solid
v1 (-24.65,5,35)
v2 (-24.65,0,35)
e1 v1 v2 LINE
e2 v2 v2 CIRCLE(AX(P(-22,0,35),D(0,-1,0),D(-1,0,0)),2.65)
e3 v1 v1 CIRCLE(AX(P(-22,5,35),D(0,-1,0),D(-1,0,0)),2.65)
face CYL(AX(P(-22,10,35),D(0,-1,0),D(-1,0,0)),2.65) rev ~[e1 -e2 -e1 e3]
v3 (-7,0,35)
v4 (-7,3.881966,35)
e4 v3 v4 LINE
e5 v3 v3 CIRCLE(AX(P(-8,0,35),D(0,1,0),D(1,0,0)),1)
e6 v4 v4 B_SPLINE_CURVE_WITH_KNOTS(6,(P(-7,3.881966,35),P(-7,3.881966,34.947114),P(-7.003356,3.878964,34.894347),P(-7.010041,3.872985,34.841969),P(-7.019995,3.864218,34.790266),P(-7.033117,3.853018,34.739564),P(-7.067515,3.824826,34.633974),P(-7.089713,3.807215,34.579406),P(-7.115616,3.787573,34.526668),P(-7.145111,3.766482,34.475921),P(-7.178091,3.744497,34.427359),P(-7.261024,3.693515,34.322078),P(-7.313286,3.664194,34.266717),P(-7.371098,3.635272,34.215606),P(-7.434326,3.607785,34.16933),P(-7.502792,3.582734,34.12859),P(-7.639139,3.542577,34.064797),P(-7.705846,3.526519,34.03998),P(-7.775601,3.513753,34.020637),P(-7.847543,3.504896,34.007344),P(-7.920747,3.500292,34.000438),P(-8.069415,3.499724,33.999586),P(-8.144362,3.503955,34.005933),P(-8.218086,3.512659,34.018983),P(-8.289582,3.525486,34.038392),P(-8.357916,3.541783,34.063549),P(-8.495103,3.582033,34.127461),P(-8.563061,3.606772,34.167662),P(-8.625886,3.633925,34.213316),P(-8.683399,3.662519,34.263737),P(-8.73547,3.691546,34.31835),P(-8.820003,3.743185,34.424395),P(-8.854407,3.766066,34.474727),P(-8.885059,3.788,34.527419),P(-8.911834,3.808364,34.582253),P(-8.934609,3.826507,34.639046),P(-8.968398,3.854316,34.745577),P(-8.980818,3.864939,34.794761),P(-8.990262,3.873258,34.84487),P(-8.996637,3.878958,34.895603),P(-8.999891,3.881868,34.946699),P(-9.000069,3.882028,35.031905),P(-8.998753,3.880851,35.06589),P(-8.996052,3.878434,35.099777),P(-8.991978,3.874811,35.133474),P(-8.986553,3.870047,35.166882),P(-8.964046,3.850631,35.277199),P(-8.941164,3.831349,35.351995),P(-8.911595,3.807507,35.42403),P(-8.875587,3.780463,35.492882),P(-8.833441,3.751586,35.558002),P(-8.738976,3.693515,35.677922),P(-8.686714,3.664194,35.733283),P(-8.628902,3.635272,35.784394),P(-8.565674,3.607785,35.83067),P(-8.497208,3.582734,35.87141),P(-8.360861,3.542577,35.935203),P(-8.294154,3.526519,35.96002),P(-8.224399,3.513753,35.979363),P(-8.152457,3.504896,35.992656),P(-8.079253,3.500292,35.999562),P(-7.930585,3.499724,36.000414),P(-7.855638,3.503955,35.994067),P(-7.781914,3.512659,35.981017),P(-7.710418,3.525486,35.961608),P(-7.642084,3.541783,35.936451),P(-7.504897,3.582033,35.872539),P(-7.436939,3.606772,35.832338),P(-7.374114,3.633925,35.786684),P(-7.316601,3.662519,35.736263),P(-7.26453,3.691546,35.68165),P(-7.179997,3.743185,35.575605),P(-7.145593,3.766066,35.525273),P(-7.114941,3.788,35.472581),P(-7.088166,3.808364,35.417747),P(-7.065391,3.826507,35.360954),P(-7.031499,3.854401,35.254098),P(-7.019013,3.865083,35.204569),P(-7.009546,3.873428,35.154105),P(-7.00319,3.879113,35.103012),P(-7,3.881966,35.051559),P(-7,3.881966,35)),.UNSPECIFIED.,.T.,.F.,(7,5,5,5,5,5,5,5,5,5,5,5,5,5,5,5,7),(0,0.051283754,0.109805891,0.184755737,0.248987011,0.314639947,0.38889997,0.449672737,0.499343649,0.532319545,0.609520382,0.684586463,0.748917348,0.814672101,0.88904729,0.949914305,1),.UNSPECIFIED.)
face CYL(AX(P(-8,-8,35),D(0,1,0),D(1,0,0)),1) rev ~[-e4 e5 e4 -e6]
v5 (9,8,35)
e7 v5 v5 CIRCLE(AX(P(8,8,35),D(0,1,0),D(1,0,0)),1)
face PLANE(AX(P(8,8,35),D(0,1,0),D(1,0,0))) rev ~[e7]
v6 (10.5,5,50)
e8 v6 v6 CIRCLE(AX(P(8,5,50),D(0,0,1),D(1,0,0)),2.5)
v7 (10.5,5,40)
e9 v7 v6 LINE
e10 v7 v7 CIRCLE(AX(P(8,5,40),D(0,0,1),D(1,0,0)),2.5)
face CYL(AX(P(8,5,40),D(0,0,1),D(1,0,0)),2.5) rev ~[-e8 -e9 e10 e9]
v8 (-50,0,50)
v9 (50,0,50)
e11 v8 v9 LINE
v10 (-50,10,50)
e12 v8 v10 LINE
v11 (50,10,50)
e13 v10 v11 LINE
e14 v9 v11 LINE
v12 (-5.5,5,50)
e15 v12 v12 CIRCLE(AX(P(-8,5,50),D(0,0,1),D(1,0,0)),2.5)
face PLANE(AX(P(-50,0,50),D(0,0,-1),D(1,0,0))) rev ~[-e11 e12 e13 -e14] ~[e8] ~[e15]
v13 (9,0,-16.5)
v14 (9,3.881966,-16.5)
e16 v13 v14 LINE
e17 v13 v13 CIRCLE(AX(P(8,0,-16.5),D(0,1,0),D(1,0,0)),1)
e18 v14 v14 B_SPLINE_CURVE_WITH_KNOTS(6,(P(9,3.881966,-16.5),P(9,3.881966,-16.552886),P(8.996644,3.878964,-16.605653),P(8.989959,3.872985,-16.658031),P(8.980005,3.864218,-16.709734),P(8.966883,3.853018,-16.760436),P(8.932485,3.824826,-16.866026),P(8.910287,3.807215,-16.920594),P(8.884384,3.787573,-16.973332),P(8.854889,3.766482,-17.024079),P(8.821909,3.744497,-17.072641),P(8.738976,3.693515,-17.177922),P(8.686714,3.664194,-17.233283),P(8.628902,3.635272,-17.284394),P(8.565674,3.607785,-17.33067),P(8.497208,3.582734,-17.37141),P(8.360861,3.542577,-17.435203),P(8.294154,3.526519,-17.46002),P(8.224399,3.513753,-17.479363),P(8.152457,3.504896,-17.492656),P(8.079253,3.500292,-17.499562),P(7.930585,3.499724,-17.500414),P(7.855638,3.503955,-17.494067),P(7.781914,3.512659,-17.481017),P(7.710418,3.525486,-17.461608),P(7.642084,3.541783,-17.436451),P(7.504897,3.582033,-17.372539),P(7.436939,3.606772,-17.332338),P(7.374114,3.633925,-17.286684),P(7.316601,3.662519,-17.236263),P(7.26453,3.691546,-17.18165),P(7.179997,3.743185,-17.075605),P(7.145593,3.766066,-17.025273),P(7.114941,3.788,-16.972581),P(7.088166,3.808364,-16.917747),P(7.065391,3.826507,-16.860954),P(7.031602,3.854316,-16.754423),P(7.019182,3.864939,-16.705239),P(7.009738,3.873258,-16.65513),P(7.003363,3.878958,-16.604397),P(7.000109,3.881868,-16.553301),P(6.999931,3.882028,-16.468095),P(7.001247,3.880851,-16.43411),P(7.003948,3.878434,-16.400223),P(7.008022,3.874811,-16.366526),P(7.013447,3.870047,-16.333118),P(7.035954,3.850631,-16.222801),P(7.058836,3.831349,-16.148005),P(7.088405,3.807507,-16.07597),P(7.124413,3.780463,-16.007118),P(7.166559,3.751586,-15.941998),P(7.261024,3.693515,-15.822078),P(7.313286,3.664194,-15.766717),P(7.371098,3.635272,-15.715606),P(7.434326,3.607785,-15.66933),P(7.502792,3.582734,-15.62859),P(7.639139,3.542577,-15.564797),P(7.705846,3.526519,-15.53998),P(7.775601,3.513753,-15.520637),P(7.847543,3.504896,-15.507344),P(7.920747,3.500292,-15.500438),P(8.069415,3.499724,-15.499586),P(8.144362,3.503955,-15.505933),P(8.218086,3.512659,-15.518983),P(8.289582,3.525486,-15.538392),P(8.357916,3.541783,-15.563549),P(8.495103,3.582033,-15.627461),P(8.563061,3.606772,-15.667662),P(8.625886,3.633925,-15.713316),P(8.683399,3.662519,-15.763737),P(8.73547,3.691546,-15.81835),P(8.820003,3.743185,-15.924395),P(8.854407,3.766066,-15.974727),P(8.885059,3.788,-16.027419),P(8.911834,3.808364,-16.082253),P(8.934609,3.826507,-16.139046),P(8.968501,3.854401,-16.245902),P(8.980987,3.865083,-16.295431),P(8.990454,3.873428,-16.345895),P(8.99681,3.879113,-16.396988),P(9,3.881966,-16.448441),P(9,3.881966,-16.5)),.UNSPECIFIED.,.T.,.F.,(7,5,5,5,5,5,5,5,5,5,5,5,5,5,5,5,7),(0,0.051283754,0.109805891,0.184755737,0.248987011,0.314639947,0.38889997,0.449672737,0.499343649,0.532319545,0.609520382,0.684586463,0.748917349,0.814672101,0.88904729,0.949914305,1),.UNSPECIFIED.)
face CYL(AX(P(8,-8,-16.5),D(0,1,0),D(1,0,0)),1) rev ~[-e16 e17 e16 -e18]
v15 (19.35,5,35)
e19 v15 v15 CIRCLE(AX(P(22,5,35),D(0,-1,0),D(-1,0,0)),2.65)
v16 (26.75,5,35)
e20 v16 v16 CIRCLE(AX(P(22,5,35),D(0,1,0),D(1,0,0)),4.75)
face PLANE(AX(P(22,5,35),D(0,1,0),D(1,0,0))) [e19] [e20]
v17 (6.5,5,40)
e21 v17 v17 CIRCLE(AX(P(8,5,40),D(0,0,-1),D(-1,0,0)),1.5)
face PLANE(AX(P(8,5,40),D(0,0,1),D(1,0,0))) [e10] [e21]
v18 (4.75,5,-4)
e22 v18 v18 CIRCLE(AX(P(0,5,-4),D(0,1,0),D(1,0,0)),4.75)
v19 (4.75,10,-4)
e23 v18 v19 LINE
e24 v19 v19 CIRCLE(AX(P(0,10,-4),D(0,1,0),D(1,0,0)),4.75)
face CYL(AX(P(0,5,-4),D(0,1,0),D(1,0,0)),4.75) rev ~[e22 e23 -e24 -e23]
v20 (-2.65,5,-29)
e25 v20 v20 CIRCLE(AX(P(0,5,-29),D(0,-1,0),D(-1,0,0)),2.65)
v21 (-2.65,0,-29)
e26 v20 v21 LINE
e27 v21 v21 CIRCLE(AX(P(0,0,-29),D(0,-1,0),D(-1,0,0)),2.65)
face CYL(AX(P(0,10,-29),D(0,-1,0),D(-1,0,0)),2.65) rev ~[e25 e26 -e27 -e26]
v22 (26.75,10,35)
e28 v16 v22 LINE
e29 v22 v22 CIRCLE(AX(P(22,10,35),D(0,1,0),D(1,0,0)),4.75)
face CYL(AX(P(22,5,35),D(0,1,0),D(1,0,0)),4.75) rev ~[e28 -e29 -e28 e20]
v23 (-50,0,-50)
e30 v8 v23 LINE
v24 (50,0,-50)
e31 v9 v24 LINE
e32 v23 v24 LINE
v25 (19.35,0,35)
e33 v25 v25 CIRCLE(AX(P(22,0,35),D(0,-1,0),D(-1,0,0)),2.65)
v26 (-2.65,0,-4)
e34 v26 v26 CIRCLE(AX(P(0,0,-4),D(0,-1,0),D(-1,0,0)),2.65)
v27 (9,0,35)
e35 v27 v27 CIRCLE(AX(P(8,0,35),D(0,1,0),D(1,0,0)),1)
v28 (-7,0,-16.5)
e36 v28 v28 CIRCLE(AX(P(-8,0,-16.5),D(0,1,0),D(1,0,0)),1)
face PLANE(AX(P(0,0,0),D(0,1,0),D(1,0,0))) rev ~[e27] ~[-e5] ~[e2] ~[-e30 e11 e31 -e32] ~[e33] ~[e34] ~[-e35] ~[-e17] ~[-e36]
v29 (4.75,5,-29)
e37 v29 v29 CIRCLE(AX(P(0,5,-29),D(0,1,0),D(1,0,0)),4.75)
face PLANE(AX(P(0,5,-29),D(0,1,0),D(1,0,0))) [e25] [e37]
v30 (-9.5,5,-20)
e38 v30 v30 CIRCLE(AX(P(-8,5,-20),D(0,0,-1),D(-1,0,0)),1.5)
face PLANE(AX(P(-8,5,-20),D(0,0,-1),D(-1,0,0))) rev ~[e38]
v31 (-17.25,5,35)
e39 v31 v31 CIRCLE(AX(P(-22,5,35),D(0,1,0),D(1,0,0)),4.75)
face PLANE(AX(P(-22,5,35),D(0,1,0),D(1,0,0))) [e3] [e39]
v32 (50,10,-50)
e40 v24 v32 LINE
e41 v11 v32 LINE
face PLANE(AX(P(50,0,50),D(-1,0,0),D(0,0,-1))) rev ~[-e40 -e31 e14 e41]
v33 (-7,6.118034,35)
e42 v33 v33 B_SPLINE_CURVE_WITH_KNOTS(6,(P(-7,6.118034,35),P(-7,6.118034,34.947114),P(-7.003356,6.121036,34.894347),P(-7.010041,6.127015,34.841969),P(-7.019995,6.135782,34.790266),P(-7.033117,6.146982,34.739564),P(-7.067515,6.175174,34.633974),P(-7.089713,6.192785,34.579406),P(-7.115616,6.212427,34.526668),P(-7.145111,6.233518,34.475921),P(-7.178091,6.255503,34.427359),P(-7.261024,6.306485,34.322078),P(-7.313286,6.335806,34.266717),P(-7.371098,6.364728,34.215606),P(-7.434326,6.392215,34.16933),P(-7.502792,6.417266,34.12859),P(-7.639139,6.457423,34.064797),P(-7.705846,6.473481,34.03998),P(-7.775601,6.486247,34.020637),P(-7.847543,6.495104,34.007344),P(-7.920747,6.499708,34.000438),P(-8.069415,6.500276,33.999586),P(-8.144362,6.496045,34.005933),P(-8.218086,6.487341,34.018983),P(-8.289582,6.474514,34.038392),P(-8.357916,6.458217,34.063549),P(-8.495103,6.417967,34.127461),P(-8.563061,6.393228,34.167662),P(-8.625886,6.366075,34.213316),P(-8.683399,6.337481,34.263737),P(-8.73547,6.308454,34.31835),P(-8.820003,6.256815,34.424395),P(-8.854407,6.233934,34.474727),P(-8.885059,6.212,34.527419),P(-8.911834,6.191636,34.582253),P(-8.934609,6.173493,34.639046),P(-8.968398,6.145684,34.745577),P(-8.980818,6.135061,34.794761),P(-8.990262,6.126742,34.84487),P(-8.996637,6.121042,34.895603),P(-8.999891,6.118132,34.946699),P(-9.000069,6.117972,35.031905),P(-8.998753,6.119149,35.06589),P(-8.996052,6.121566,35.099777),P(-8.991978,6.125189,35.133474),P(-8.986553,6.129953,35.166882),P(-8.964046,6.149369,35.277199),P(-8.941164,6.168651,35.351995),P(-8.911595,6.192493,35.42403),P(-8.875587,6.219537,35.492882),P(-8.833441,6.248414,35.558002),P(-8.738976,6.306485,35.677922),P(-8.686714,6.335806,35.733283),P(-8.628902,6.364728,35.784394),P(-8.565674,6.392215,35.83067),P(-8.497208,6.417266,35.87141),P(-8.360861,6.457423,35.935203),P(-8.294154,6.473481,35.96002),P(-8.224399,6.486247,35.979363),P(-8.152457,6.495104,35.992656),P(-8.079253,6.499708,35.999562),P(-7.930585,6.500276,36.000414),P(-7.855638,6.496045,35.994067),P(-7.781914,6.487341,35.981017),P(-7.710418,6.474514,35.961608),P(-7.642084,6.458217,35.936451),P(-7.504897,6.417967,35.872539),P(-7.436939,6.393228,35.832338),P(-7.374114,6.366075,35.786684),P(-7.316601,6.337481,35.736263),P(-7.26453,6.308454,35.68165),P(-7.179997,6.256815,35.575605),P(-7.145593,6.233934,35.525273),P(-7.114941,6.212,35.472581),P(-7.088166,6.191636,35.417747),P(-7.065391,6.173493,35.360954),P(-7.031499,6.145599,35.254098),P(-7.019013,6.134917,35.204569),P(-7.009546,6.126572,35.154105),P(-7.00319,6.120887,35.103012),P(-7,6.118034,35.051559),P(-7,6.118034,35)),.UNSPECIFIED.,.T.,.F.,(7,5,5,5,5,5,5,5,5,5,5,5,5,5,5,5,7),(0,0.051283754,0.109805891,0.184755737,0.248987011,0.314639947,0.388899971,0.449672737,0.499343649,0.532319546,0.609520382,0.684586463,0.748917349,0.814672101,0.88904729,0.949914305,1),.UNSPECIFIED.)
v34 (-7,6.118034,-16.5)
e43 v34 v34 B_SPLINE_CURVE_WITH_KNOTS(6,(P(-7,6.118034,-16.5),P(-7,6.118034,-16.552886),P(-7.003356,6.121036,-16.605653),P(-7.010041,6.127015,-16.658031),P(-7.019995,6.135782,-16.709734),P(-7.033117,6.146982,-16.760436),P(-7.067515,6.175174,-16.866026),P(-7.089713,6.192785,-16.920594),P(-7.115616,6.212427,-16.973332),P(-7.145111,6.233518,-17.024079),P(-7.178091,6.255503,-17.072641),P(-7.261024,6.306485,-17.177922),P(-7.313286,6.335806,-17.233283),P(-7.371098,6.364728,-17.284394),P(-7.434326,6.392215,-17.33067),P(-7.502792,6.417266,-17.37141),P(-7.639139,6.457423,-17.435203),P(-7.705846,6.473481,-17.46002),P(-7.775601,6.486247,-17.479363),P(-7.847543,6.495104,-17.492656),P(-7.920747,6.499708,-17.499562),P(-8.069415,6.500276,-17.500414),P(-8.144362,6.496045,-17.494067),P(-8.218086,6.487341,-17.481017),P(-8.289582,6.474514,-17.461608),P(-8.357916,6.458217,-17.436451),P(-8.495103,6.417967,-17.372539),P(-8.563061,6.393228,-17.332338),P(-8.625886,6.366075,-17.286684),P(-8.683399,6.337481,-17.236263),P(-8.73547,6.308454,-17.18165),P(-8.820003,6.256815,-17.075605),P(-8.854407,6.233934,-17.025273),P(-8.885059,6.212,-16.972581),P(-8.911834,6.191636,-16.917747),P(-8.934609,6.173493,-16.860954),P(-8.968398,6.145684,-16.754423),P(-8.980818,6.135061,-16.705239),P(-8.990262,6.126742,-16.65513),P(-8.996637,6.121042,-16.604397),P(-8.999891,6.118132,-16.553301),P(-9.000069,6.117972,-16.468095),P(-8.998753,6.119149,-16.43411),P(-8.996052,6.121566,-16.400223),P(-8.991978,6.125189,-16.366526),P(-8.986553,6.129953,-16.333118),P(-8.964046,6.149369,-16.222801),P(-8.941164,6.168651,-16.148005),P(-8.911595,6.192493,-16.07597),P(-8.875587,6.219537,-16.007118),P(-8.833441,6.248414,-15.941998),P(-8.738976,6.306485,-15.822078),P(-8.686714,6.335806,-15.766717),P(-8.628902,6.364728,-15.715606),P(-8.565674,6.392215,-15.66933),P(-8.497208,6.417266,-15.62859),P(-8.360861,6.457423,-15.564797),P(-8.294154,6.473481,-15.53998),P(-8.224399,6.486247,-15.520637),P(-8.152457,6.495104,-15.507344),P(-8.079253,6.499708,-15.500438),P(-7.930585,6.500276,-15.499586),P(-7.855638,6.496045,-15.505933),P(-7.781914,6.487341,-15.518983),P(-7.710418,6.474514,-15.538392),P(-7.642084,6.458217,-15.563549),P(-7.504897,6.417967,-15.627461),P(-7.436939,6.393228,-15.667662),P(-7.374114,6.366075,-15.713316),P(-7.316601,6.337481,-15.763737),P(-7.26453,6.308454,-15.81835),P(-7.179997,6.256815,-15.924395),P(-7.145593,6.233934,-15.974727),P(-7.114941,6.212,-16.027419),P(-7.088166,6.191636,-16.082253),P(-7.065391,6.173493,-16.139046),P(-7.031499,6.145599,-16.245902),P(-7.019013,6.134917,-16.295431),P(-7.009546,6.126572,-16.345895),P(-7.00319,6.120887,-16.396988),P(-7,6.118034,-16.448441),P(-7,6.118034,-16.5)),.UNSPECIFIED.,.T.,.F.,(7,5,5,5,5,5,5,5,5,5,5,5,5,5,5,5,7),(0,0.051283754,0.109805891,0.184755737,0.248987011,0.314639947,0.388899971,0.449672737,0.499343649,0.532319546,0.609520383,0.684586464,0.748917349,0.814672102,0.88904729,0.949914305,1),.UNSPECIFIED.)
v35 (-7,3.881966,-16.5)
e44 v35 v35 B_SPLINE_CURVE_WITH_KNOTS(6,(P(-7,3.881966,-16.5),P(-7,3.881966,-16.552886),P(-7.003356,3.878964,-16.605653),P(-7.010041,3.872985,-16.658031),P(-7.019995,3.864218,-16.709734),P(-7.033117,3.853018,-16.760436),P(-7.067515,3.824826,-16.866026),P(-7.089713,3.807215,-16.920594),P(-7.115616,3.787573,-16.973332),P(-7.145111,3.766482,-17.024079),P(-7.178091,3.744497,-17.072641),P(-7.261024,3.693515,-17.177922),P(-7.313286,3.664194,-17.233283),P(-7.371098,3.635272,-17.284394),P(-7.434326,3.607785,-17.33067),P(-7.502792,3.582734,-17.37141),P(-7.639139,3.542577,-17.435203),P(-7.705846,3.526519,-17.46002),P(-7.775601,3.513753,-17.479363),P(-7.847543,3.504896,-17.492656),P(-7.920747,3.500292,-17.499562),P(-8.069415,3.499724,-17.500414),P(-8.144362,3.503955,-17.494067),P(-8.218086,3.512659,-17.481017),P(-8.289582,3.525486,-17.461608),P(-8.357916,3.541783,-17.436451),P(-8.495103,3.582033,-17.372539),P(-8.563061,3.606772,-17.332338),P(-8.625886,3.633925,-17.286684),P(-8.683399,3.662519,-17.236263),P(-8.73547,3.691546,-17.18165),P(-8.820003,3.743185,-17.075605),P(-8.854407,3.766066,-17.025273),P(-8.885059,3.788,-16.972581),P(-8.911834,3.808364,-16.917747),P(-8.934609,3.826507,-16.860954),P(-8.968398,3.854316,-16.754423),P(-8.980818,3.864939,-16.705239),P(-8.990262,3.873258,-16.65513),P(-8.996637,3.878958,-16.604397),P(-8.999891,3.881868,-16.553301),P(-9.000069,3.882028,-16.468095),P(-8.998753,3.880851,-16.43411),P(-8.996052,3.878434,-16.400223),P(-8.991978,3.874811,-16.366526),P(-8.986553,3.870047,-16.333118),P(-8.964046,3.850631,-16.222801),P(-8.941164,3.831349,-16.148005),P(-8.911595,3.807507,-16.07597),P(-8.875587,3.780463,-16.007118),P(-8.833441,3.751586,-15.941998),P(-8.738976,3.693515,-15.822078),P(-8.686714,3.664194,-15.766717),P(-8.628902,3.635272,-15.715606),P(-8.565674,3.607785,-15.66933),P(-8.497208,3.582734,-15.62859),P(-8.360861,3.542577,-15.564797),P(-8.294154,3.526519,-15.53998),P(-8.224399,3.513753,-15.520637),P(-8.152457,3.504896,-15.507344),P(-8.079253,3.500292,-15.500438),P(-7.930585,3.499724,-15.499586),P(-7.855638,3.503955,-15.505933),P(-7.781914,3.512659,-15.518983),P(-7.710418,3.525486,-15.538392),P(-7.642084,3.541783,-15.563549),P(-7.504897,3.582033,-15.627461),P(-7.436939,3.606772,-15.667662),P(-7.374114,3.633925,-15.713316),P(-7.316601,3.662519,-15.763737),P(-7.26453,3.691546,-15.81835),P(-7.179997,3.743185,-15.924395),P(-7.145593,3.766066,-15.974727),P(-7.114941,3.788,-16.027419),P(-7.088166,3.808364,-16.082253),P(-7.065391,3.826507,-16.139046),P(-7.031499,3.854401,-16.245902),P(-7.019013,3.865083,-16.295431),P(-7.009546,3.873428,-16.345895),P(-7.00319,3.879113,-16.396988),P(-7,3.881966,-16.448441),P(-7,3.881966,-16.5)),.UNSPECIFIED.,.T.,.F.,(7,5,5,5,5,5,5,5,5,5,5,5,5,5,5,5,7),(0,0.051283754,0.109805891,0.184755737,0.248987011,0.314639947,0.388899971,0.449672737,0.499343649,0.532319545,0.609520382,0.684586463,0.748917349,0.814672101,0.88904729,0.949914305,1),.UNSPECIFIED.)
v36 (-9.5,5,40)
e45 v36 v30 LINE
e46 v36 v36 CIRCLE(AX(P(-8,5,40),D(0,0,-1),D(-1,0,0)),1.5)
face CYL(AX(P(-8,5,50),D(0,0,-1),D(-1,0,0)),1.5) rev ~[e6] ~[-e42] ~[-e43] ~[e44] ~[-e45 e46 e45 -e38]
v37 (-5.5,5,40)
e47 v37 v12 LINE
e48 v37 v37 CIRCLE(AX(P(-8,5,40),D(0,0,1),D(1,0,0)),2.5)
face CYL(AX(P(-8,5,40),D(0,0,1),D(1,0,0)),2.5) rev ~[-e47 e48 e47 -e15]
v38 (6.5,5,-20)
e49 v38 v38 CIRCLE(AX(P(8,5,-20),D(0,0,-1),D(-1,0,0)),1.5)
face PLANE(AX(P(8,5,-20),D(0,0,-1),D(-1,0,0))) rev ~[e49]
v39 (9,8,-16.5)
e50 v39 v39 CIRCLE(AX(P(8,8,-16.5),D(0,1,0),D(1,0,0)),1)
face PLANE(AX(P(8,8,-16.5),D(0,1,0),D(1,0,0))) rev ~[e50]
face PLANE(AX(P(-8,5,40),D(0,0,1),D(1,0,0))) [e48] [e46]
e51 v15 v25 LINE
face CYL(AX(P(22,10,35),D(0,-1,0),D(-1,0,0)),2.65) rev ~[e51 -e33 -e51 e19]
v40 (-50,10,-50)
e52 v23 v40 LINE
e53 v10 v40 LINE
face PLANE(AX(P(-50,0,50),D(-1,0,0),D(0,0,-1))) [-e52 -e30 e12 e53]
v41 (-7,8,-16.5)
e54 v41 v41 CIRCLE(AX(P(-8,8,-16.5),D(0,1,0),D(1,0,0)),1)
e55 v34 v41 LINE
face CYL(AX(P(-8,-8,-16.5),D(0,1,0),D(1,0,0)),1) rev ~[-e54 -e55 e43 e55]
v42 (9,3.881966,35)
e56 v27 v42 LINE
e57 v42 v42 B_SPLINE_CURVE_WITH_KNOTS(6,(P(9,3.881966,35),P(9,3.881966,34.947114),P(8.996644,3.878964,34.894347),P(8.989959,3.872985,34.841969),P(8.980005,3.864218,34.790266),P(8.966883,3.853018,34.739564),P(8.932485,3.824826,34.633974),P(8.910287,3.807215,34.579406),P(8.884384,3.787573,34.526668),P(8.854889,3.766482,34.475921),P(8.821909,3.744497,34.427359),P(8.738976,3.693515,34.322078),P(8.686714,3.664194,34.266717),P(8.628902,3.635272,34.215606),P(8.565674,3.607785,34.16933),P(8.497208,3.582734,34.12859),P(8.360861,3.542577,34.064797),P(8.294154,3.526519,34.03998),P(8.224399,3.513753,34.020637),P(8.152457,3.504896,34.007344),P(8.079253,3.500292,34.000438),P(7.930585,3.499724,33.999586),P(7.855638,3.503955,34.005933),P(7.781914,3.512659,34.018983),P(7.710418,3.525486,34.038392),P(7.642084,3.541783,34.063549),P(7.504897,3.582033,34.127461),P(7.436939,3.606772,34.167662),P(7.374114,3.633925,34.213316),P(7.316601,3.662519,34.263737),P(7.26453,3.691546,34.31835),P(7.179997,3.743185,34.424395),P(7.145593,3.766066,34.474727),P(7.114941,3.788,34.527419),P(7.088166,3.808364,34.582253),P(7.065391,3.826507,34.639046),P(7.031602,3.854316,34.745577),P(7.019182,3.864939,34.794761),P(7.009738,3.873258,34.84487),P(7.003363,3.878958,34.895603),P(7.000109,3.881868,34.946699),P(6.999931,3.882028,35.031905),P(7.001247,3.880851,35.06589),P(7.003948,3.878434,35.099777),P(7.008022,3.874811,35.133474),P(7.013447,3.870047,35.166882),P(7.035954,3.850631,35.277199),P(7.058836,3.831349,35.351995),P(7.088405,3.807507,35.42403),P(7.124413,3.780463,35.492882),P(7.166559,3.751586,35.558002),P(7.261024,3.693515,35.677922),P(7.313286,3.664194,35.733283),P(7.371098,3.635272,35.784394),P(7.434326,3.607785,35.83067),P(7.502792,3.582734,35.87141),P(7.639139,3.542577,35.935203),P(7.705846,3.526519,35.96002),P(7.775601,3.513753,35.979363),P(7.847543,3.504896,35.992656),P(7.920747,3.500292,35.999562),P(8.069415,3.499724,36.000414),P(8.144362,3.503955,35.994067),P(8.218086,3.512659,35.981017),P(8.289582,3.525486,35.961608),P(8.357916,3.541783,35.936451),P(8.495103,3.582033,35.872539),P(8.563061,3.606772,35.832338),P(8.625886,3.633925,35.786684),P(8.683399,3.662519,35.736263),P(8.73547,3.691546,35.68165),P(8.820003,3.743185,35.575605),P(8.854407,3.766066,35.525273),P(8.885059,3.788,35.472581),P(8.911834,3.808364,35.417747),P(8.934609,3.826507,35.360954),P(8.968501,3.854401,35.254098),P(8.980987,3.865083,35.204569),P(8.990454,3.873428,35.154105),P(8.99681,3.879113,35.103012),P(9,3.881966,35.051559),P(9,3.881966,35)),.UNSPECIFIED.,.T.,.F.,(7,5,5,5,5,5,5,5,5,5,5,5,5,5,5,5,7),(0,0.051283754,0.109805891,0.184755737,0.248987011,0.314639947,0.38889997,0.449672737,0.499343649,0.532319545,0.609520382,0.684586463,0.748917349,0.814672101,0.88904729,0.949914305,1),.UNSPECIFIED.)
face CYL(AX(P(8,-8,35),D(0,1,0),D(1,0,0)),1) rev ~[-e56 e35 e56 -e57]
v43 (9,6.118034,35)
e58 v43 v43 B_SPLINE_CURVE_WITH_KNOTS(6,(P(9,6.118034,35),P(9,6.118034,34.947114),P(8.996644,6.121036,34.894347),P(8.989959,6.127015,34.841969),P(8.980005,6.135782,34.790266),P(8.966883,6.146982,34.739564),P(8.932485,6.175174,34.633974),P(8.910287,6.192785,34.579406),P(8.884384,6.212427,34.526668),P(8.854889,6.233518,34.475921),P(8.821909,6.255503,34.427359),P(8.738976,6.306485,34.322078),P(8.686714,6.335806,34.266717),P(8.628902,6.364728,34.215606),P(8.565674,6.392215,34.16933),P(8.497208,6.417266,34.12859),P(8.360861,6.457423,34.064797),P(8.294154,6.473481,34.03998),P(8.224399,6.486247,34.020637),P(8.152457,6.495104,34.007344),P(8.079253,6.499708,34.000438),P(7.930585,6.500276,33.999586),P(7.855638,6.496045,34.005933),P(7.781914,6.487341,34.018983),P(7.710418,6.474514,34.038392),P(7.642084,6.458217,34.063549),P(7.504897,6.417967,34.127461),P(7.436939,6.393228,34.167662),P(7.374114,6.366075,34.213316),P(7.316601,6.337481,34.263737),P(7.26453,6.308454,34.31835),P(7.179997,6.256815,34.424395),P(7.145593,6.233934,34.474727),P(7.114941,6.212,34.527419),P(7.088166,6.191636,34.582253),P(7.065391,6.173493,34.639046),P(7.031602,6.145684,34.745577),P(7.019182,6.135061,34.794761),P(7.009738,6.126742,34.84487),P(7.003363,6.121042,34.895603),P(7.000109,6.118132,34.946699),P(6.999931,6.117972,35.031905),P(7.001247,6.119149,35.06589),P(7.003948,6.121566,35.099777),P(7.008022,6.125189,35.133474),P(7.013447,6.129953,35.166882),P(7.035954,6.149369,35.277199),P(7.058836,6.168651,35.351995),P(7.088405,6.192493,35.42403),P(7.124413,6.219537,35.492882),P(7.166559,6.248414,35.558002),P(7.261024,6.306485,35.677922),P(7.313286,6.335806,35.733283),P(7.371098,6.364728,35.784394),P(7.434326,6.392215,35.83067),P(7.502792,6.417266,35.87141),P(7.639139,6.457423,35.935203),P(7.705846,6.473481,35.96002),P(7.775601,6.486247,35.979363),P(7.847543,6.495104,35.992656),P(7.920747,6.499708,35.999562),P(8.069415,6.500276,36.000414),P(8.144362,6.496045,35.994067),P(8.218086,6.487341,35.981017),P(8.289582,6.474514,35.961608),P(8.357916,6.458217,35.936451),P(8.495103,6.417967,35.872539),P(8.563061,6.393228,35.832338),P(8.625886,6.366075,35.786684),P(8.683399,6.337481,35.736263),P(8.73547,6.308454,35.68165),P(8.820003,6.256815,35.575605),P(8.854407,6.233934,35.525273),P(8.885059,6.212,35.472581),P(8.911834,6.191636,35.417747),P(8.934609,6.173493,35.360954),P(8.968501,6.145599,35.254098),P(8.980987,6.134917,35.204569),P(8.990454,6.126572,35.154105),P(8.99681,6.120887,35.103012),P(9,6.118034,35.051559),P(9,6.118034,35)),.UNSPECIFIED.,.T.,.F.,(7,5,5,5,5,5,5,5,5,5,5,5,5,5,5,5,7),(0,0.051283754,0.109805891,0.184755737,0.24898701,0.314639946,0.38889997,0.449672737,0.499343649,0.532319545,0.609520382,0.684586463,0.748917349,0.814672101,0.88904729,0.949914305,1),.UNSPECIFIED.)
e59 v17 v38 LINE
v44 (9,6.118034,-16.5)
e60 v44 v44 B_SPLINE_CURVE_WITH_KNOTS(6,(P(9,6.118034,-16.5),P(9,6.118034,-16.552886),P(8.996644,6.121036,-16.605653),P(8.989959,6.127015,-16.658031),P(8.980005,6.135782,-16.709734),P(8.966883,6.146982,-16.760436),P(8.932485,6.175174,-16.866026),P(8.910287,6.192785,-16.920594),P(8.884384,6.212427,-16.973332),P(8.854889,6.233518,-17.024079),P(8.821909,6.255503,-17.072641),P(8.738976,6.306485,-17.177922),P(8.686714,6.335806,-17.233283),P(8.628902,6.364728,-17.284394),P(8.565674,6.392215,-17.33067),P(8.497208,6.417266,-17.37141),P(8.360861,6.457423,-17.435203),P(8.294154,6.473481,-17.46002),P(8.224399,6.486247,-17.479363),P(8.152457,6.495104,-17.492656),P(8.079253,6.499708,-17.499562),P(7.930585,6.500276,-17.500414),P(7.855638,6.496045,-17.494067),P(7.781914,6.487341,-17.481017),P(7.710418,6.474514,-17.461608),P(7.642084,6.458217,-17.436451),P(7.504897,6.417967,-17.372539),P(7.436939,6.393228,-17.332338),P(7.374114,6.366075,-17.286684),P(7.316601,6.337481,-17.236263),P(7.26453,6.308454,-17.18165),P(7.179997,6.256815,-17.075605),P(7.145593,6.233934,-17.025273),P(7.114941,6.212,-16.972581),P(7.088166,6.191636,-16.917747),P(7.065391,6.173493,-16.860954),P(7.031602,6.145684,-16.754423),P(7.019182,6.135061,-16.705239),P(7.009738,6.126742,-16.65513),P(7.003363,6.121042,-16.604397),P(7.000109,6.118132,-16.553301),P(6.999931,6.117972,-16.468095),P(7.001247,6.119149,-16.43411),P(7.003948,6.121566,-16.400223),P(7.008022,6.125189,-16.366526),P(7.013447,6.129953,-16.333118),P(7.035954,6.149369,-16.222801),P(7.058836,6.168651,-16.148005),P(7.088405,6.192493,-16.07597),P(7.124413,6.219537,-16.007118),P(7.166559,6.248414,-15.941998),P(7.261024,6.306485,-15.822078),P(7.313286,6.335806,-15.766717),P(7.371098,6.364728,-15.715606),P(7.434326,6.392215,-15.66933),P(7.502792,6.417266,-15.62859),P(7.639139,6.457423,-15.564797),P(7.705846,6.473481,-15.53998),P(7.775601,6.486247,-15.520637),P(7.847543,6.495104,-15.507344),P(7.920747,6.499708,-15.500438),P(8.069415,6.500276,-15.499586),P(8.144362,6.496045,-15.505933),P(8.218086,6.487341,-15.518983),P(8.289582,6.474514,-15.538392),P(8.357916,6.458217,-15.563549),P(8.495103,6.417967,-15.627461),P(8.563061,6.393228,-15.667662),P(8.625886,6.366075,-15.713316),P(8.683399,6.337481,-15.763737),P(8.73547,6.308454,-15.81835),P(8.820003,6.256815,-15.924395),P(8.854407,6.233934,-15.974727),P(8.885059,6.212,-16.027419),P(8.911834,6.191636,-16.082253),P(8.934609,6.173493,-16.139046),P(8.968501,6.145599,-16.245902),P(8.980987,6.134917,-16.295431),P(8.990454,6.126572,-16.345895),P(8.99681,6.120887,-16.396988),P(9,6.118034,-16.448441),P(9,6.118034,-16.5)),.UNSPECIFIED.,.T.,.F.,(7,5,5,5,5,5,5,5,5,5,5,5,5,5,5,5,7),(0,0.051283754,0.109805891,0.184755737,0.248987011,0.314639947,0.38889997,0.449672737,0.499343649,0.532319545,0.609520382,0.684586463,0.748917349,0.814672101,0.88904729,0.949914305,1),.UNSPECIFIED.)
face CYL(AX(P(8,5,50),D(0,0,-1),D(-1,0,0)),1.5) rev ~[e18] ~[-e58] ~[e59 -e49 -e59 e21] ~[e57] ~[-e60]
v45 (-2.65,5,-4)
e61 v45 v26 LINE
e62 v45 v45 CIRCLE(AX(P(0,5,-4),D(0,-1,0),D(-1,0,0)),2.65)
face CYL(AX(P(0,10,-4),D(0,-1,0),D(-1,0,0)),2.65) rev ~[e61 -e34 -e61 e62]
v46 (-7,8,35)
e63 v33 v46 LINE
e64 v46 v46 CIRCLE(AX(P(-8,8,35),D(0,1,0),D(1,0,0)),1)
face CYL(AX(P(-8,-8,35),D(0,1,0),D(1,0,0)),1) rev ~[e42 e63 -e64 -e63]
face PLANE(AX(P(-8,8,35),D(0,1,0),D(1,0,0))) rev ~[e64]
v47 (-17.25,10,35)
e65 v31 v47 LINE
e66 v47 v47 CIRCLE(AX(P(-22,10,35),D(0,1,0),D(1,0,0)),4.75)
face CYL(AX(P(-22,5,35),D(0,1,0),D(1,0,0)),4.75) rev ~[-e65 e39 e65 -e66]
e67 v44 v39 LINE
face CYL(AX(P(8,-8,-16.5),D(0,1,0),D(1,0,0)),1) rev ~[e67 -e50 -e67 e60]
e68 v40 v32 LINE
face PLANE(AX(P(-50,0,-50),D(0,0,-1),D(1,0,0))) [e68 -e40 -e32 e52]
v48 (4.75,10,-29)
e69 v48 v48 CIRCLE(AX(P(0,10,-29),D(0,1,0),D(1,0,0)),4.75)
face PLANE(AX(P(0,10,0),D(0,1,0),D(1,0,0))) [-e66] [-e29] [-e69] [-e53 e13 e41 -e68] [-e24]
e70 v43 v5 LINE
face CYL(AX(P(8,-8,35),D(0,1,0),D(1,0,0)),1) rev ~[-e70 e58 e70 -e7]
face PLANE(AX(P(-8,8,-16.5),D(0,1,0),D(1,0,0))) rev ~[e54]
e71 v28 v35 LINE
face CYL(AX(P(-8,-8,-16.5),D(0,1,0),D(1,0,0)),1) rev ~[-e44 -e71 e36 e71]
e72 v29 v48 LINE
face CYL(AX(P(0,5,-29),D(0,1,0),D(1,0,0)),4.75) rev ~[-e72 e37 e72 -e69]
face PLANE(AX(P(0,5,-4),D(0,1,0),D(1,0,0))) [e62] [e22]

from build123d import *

# Parameters (mm, degrees)
SKETCH_1_W                   = 100
SKETCH_1_H                   = 100
EXTRUDE_1_DEPTH              = 10
HOLE_WIZARD_M2_1_D           = 3
HOLE_WIZARD_M2_1_DEPTH       = 70
HOLE_WIZARD_M2_1_CBORE_D     = 5
HOLE_WIZARD_M2_1_CBORE_DEPTH = 10
HOLE_WIZARD_M5_1_D           = 5.3
HOLE_WIZARD_M5_1_CBORE_D     = 9.5
HOLE_WIZARD_M5_1_CBORE_DEPTH = 5
HOLE_WIZARD_M2_2_D           = 2
HOLE_WIZARD_M2_2_DEPTH       = 8


with BuildPart() as part:
    # 스케치1 → 보스-돌출1 (new body)
    with BuildSketch(Plane(origin=(0, 0, 0), x_dir=(1, 0, 0), z_dir=(0, 1, 0))):
        Rectangle(SKETCH_1_W, SKETCH_1_H)
    extrude(amount=EXTRUDE_1_DEPTH)

    # M2 소켓 머리 캡 나사용 카운터보어1
    with Locations(Plane.XY.offset(50)):
        with Locations((-8, 5), (8, 5)):
            CounterBoreHole(HOLE_WIZARD_M2_1_D / 2, HOLE_WIZARD_M2_1_CBORE_D / 2, HOLE_WIZARD_M2_1_CBORE_DEPTH, depth=HOLE_WIZARD_M2_1_DEPTH)

    # M5 소켓 머리 캡 나사용 카운터보어1 (through all)
    with Locations(Plane(origin=(0, 10, 0), x_dir=(1, 0, 0), z_dir=(0, 1, 0))):
        with Locations((0, 29), (0, 4), (-22, -35), (22, -35)):
            CounterBoreHole(HOLE_WIZARD_M5_1_D / 2, HOLE_WIZARD_M5_1_CBORE_D / 2, HOLE_WIZARD_M5_1_CBORE_DEPTH)

    # M2 여유 구멍2
    with Locations(Plane(origin=(0, 0, 0), x_dir=(-1, 0, 0), z_dir=(0, -1, 0))):
        with Locations((-8, -35), (8, -35), (8, 16.5), (-8, 16.5)):
            Hole(HOLE_WIZARD_M2_2_D / 2, depth=HOLE_WIZARD_M2_2_DEPTH)


solid = part.part
